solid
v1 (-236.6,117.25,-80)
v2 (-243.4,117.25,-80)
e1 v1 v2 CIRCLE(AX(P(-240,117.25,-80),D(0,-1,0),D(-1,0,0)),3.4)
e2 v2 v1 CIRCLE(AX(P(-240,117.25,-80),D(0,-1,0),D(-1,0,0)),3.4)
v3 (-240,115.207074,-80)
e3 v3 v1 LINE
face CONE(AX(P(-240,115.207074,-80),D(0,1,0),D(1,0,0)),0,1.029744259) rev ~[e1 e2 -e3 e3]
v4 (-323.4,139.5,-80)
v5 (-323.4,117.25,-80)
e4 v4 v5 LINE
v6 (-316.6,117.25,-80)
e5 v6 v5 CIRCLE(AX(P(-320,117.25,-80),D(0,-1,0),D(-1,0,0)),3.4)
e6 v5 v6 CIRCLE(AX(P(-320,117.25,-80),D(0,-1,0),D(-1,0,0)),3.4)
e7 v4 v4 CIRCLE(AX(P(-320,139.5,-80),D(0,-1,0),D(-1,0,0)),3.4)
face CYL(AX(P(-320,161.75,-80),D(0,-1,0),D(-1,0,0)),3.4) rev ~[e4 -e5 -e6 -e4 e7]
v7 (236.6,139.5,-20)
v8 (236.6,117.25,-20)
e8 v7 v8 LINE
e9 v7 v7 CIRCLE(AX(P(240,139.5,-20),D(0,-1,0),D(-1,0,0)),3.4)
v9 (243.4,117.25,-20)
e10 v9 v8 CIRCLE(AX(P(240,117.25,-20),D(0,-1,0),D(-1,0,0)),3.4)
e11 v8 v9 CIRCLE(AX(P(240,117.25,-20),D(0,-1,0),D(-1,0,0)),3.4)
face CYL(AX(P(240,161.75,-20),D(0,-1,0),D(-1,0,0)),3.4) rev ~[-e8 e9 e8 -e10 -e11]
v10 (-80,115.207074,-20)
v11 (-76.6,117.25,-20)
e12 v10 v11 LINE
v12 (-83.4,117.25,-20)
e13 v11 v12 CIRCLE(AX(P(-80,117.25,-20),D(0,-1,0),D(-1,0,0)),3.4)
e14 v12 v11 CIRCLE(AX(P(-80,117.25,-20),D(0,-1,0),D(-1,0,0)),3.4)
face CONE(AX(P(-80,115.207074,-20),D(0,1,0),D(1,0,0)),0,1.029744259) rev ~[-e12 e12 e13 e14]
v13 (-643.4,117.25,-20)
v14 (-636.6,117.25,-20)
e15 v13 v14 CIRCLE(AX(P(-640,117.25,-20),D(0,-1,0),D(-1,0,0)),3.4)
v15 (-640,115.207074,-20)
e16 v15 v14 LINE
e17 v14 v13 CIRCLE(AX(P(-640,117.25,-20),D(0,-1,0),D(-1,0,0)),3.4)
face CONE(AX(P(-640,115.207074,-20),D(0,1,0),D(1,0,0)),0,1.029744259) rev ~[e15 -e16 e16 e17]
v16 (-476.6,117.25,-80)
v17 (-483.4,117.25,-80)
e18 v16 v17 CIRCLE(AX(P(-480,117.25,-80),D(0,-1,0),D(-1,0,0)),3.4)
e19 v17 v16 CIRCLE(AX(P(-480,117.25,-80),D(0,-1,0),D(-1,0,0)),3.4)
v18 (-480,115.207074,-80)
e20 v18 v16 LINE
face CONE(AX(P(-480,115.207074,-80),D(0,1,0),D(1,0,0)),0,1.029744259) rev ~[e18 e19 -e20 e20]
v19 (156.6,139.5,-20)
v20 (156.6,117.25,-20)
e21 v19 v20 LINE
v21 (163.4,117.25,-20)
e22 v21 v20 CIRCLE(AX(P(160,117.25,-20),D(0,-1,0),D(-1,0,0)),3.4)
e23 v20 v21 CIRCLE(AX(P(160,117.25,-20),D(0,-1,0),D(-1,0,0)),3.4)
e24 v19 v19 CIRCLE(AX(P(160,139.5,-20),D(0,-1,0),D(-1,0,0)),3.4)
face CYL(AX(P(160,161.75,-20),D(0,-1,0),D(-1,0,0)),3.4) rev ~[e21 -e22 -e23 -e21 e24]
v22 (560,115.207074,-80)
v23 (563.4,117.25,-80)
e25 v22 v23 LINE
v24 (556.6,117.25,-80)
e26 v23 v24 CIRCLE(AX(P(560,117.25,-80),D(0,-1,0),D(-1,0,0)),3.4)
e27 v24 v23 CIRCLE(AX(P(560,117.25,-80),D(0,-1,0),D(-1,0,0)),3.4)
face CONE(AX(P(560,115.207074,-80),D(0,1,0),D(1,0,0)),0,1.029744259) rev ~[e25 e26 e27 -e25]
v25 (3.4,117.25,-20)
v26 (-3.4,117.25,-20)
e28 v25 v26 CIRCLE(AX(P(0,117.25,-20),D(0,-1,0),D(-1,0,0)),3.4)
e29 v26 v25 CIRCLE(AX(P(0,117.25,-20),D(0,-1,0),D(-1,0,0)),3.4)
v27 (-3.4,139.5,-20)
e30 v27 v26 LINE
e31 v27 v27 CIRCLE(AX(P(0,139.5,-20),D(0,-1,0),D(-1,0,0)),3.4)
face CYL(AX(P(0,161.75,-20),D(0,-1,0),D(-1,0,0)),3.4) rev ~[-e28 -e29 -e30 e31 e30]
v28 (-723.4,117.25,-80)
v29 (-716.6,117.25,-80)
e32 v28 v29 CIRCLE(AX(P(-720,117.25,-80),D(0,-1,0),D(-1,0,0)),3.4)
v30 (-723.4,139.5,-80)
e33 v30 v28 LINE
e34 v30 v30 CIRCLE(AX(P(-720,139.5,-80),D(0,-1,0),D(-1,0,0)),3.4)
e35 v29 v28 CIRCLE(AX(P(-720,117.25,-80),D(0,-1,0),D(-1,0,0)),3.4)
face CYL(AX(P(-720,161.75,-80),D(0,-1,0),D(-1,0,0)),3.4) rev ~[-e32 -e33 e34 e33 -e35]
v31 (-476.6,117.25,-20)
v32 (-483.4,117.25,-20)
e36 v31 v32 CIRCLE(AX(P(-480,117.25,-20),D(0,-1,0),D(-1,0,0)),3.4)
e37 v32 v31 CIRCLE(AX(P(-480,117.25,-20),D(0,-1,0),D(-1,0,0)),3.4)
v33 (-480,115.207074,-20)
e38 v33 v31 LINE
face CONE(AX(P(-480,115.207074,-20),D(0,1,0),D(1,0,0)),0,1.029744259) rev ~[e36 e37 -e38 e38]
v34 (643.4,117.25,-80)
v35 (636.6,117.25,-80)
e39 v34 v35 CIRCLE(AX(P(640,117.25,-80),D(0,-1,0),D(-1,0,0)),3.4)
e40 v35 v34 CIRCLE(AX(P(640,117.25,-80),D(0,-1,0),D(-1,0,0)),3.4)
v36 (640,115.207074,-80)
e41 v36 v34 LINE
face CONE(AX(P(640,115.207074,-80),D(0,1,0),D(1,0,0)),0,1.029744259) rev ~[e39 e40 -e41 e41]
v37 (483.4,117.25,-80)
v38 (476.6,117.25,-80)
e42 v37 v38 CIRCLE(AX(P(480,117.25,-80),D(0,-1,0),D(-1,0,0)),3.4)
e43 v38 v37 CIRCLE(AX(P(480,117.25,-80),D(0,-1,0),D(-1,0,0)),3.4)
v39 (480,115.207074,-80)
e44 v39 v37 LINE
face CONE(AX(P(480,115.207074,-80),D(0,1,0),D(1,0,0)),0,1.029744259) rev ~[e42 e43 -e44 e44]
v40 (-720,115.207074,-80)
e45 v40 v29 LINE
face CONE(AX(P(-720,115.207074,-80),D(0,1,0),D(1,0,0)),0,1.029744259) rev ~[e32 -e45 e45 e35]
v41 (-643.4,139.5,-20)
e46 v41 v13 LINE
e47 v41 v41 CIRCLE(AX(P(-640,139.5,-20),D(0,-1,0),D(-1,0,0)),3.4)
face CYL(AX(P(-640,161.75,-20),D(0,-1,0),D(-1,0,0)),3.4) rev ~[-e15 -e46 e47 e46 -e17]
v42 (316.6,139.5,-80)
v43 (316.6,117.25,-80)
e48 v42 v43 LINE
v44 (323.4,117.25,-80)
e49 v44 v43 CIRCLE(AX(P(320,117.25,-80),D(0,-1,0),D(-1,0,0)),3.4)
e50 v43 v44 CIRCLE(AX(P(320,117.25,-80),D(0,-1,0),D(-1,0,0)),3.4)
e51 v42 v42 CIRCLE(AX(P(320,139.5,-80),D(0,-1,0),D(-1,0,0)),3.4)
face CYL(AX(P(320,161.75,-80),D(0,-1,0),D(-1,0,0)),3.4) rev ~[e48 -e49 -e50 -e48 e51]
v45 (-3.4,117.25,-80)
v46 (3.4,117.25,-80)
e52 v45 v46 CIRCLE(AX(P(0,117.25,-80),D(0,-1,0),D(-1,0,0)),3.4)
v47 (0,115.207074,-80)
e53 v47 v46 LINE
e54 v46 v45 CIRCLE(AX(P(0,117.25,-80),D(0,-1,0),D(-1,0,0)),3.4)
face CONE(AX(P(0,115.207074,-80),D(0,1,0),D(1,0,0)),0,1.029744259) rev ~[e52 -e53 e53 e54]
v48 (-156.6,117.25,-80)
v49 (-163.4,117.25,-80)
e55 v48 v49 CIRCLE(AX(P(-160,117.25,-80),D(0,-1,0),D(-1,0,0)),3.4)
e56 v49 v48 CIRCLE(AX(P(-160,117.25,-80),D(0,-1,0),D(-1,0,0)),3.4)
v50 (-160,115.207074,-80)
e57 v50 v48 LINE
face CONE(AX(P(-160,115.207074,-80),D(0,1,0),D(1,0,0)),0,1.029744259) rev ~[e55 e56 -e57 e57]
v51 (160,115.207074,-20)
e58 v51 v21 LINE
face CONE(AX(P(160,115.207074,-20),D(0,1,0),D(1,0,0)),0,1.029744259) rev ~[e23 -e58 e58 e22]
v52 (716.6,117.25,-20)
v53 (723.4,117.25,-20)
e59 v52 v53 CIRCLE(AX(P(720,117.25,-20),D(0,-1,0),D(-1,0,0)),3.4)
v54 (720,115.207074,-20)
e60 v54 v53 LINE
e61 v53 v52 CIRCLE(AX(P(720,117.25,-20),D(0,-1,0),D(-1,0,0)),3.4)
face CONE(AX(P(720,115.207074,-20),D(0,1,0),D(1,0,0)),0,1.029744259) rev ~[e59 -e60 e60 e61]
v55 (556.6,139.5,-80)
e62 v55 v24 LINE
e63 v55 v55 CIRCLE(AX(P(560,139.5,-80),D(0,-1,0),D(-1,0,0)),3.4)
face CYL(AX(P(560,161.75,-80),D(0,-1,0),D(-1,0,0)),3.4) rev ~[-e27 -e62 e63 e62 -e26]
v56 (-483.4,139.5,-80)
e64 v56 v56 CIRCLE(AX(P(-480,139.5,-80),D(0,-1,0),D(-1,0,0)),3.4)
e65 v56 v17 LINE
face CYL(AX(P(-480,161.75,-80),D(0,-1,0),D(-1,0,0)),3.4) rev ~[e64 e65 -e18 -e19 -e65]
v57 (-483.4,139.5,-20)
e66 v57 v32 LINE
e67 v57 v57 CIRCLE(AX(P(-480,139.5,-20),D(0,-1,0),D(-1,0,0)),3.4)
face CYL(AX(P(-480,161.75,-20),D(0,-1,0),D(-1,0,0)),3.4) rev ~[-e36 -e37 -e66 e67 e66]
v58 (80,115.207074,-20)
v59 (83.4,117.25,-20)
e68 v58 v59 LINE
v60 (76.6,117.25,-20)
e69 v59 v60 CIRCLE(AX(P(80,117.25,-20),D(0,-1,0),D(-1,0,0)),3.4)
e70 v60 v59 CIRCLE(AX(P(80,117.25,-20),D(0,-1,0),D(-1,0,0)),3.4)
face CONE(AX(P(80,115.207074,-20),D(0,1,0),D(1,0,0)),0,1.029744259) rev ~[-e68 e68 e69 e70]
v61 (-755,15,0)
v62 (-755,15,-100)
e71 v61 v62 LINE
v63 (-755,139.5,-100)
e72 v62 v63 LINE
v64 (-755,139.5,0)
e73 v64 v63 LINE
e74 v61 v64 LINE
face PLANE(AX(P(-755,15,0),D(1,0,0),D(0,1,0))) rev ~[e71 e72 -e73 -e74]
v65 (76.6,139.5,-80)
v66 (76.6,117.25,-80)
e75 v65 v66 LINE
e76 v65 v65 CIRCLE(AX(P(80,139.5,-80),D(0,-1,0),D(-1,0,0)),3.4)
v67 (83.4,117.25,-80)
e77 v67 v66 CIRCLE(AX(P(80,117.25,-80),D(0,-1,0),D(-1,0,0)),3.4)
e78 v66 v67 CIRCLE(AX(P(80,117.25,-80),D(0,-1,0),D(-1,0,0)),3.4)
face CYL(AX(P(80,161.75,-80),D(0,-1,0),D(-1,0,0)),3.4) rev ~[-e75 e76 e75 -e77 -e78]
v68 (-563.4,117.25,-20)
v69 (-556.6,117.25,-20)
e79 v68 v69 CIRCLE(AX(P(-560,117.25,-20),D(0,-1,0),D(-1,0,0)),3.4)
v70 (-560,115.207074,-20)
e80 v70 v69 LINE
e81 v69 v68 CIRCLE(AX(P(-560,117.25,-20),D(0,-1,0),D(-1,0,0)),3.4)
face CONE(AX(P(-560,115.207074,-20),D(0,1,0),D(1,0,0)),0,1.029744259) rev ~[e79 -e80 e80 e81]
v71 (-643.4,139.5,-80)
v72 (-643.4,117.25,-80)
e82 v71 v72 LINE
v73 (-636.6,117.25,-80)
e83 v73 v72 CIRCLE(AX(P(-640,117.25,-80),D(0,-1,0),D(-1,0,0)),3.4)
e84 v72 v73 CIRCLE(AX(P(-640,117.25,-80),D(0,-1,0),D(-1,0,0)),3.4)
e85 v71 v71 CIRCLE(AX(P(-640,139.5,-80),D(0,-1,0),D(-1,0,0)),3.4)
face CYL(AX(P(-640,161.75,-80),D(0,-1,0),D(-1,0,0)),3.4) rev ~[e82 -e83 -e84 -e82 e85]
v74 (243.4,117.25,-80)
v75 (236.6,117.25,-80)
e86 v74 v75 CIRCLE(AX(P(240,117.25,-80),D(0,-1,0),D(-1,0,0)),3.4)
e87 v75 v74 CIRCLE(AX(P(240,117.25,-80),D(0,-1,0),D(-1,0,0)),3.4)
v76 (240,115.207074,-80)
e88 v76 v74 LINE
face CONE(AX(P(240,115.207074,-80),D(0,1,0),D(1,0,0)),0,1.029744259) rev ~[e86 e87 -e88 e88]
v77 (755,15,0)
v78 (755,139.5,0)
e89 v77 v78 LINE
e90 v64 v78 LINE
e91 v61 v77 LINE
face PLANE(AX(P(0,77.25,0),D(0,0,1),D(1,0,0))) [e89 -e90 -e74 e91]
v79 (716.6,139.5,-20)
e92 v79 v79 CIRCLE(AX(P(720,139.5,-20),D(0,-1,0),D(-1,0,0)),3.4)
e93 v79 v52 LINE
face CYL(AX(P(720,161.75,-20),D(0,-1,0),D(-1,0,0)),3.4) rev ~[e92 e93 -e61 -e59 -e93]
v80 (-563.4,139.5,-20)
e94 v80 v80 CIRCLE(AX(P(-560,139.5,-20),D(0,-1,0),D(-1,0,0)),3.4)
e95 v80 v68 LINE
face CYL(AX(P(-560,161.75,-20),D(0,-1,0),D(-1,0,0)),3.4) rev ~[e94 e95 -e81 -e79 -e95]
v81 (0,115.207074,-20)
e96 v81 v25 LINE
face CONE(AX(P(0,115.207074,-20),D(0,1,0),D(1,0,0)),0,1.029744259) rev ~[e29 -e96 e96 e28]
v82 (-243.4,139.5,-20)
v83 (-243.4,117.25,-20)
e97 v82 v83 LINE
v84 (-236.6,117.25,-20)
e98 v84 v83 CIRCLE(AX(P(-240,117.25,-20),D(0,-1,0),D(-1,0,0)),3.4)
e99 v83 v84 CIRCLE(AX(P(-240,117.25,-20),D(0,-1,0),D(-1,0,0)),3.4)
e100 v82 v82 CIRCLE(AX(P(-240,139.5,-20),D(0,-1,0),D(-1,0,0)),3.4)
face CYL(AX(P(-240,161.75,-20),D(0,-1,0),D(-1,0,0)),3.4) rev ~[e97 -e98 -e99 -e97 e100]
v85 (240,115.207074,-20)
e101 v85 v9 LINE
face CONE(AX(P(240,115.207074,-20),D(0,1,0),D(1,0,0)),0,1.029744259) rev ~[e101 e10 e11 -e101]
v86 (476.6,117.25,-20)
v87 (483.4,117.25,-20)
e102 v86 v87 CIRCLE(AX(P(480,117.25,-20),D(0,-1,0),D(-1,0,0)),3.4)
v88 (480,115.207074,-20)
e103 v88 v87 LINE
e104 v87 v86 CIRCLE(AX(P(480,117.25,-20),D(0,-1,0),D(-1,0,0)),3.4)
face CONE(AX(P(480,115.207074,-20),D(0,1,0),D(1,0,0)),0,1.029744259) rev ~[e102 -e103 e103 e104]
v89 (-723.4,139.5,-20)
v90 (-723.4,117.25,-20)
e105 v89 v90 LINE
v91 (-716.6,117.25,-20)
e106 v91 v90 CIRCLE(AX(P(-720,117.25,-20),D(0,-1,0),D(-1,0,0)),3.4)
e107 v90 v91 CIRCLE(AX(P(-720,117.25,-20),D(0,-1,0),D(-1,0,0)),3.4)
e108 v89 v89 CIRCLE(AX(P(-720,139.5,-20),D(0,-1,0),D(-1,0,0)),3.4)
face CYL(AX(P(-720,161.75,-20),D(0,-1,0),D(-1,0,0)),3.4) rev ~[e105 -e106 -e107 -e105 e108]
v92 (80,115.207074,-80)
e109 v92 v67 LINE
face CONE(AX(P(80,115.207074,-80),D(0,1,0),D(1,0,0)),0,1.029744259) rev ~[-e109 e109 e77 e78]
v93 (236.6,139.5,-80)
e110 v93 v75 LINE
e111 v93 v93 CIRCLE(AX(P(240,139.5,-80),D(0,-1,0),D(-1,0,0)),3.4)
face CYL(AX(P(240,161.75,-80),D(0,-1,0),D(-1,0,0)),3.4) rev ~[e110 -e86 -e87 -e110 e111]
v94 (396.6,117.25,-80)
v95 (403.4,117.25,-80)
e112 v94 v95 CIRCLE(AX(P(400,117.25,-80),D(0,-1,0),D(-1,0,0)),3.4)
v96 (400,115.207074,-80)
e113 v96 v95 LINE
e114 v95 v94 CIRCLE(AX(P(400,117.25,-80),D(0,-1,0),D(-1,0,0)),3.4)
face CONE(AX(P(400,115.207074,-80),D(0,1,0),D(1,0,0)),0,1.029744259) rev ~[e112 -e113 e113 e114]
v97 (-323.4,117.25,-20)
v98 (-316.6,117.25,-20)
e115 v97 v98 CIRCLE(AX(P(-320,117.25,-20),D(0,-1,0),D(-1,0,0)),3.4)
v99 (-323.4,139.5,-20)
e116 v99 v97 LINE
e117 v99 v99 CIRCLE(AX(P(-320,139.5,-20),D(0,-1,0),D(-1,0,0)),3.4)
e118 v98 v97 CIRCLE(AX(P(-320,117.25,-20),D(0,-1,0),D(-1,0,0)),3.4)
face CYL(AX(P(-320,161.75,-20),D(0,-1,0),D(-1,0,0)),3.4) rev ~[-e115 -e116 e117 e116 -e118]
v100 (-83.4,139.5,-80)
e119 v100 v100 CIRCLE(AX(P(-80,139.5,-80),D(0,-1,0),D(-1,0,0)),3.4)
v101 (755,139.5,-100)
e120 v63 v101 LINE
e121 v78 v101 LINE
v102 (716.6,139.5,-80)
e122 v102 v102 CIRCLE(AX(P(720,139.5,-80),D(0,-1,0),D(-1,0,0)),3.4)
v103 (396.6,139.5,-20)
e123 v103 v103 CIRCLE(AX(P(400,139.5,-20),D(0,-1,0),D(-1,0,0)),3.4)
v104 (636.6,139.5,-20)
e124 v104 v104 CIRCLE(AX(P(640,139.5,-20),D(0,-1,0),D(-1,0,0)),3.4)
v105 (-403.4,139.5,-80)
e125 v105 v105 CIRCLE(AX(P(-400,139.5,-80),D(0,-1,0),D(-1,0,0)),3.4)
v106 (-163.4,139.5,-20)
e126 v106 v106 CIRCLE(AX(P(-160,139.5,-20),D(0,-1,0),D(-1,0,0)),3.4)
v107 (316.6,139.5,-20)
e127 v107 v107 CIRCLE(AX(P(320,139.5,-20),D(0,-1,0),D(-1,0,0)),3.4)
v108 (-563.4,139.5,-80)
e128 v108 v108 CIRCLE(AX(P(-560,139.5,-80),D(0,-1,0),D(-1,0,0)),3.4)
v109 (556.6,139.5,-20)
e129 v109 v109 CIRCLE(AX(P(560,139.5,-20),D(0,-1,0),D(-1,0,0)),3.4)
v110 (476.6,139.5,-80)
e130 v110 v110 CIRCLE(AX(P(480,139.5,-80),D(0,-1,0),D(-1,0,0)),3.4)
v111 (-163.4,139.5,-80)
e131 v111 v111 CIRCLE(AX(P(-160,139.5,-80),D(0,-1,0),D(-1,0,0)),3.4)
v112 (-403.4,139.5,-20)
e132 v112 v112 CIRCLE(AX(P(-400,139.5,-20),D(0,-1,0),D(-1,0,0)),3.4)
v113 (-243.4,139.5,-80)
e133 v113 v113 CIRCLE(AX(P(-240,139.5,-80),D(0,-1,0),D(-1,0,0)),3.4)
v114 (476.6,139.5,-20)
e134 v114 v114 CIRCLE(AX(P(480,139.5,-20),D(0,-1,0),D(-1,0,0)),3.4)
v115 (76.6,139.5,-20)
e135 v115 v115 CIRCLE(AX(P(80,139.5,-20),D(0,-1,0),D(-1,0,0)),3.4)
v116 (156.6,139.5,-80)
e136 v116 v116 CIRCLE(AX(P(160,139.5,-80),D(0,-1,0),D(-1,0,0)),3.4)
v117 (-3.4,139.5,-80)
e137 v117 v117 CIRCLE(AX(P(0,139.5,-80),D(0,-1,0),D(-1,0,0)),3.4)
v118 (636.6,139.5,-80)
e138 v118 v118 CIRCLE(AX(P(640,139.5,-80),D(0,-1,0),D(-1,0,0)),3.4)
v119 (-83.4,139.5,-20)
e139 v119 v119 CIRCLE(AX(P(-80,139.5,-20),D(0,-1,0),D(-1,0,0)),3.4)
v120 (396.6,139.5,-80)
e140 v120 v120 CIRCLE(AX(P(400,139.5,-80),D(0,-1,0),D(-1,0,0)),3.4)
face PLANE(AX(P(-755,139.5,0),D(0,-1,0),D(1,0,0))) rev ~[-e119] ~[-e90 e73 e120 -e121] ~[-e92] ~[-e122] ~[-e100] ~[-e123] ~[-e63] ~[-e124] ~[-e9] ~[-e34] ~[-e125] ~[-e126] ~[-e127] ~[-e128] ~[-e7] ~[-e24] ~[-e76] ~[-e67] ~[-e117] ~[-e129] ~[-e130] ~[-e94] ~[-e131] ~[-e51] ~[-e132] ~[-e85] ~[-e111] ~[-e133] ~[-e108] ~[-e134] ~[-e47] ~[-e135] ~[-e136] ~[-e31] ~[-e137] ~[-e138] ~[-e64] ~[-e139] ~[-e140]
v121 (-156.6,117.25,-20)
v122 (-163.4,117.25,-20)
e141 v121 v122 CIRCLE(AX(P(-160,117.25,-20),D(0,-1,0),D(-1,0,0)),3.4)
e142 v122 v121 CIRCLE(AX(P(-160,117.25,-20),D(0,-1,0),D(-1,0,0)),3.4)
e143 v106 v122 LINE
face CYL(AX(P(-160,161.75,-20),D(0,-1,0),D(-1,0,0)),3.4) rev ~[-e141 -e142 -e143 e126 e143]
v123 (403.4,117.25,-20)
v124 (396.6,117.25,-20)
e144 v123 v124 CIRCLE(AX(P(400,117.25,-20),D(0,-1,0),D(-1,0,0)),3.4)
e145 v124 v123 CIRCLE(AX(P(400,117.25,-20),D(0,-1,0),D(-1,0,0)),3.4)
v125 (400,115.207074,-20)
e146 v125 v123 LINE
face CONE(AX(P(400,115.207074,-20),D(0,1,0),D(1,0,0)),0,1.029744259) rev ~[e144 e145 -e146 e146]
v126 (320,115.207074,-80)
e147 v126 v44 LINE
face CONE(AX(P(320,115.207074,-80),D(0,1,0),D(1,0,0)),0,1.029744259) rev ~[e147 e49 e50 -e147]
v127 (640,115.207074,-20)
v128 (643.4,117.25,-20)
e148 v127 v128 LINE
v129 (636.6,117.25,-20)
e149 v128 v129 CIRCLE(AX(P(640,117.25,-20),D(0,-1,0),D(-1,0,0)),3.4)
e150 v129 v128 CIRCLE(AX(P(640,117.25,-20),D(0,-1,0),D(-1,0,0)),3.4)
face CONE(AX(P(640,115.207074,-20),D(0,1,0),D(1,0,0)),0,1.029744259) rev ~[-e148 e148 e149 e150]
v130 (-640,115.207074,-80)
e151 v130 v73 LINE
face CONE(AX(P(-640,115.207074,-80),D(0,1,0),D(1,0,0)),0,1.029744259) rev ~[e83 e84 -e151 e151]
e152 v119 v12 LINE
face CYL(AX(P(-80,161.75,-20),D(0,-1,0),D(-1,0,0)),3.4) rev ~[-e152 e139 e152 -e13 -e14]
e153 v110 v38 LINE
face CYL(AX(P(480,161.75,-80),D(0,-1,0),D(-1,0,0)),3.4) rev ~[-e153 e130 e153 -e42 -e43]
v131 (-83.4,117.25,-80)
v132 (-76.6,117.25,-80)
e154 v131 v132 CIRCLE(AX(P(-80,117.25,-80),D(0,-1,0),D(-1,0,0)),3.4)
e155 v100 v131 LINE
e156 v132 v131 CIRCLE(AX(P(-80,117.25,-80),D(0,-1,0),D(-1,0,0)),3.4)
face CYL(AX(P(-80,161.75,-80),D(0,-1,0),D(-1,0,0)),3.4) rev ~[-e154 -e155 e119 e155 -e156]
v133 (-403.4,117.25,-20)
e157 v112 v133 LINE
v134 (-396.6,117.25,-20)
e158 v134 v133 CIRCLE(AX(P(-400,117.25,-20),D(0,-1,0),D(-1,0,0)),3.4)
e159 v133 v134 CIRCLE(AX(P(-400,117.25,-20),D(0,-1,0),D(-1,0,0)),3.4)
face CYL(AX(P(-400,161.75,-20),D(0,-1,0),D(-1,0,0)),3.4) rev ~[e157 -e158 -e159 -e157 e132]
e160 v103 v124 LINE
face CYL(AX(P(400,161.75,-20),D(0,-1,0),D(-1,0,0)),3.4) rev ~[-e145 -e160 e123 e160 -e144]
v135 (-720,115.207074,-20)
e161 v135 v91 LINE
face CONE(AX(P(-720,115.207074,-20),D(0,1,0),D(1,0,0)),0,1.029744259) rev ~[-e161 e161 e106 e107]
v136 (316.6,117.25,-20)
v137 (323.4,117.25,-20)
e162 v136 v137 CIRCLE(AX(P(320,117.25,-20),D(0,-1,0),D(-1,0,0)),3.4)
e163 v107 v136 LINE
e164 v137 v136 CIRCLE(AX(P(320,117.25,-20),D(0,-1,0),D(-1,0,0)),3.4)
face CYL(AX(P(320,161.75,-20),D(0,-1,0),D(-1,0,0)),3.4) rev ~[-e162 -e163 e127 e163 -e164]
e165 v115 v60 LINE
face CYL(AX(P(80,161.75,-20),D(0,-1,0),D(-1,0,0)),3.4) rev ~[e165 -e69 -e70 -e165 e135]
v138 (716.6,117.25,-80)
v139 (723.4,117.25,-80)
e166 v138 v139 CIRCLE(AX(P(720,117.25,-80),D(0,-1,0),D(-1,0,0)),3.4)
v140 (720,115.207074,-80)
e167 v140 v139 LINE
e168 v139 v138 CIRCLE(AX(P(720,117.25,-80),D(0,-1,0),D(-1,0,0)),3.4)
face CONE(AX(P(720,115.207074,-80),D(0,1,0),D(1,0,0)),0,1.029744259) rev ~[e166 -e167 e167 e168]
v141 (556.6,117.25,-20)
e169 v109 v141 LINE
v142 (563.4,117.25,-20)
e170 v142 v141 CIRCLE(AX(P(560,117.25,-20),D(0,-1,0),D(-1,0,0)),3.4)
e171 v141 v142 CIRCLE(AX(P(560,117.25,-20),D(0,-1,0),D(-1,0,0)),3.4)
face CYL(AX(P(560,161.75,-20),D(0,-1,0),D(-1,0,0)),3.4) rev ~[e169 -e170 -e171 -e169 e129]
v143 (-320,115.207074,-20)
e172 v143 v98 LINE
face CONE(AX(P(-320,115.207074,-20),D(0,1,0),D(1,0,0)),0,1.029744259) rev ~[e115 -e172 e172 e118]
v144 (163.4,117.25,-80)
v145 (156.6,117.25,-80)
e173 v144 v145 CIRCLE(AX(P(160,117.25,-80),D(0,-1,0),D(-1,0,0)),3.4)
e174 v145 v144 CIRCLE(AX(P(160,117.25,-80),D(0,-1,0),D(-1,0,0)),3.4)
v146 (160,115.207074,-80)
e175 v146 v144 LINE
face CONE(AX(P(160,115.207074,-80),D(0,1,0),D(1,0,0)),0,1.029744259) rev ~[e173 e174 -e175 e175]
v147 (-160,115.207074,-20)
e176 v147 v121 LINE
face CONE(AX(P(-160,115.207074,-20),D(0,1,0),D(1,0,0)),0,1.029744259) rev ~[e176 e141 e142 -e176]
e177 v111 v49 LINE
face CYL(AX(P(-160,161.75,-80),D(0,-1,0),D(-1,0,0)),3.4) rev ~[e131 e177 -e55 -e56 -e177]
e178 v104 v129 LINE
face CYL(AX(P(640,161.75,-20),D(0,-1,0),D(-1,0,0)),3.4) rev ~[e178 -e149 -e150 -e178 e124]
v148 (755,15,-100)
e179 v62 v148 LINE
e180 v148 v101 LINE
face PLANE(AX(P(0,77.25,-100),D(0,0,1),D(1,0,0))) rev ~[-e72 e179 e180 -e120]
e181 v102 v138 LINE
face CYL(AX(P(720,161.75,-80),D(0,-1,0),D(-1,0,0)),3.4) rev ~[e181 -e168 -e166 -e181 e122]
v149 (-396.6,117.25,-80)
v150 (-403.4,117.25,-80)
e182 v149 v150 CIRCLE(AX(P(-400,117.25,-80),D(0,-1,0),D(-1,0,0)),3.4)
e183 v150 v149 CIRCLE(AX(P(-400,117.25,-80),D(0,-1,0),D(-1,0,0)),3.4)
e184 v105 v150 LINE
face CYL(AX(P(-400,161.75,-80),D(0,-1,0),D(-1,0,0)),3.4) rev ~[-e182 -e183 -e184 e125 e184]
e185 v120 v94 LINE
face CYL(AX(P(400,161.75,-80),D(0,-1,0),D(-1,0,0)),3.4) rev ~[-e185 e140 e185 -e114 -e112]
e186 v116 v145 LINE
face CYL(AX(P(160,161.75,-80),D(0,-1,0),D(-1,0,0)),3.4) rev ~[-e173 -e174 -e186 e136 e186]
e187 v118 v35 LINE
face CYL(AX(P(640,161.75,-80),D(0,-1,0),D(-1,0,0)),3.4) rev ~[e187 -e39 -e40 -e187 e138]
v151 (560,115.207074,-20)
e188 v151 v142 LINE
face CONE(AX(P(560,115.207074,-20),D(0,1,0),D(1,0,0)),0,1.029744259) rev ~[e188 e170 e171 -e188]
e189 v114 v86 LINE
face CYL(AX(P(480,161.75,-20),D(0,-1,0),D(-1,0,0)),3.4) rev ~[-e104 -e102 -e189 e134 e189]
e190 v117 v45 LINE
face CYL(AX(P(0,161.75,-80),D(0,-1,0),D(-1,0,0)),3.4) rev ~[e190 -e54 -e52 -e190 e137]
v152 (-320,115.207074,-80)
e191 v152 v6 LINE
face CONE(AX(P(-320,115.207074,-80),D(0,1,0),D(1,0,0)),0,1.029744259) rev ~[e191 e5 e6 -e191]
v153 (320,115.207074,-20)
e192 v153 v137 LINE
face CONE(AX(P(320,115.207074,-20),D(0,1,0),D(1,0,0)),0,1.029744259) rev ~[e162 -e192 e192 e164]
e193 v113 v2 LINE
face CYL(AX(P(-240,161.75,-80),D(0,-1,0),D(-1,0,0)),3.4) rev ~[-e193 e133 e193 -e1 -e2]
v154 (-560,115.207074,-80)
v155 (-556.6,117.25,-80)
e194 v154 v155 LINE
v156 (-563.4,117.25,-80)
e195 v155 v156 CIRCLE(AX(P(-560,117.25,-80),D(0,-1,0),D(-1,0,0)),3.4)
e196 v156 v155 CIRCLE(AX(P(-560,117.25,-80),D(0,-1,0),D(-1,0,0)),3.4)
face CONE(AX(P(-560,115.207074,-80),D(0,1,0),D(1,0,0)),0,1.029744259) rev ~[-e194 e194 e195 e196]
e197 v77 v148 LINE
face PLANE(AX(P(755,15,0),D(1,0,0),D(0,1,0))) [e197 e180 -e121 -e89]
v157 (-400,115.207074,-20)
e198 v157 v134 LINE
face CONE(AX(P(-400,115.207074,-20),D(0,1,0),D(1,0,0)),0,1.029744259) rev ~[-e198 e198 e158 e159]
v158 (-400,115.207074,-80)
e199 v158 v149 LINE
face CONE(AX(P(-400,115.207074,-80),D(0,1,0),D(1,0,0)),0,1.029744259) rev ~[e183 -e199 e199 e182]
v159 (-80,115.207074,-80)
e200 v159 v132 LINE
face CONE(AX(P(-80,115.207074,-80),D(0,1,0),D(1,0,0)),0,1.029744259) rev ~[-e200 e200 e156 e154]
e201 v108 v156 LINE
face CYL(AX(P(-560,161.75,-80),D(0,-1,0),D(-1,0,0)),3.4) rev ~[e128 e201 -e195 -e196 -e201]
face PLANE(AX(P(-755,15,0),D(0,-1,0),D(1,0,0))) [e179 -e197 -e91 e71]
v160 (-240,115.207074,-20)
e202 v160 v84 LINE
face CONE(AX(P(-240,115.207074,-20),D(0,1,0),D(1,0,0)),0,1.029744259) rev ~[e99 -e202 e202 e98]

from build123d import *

# Parameters (mm, degrees)
SKETCH1_W             = 1510
SKETCH1_H             = 124.5
BOSS_EXTRUDE1_DEPTH   = 100
M8_TAPPED_HOLE1_D     = 6.8
M8_TAPPED_HOLE1_DEPTH = 22.25
M8_TAPPED_HOLE1_TIP   = 2.042926105


with BuildPart() as part:
    # Sketch1 → Boss-Extrude1 (new body)
    with BuildSketch(Plane.XY):
        with Locations((0, 77.25)):
            Rectangle(SKETCH1_W, SKETCH1_H)
    extrude(amount=-BOSS_EXTRUDE1_DEPTH)

    # M8 Tapped Hole1
    with Locations(Plane(origin=(0, 139.5, 0), x_dir=(1, 0, 0), z_dir=(0, 1, 0))):
        with Locations((720, 80), (720, 20), (640, 20), (640, 80), (560, 80), (560, 20), (480, 20), (480, 80), (400, 80), (400, 20), (320, 20), (320, 80), (240, 80), (240, 20), (160, 20), (160, 80), (80, 80), (80, 20), (0, 20), (0, 80), (-80, 80), (-80, 20), (-160, 20), (-160, 80), (-240, 80), (-240, 20), (-320, 20), (-320, 80), (-400, 80), (-400, 20), (-480, 20), (-480, 80), (-560, 20), (-560, 80), (-640, 20), (-640, 80), (-720, 80), (-720, 20)):
            Hole(M8_TAPPED_HOLE1_D / 2, depth=M8_TAPPED_HOLE1_DEPTH)
            with Locations((0, 0, -(M8_TAPPED_HOLE1_DEPTH + M8_TAPPED_HOLE1_TIP / 2))):  # 118° drill point
                Cone(0, M8_TAPPED_HOLE1_D / 2, M8_TAPPED_HOLE1_TIP, mode=Mode.SUBTRACT)


solid = part.part
